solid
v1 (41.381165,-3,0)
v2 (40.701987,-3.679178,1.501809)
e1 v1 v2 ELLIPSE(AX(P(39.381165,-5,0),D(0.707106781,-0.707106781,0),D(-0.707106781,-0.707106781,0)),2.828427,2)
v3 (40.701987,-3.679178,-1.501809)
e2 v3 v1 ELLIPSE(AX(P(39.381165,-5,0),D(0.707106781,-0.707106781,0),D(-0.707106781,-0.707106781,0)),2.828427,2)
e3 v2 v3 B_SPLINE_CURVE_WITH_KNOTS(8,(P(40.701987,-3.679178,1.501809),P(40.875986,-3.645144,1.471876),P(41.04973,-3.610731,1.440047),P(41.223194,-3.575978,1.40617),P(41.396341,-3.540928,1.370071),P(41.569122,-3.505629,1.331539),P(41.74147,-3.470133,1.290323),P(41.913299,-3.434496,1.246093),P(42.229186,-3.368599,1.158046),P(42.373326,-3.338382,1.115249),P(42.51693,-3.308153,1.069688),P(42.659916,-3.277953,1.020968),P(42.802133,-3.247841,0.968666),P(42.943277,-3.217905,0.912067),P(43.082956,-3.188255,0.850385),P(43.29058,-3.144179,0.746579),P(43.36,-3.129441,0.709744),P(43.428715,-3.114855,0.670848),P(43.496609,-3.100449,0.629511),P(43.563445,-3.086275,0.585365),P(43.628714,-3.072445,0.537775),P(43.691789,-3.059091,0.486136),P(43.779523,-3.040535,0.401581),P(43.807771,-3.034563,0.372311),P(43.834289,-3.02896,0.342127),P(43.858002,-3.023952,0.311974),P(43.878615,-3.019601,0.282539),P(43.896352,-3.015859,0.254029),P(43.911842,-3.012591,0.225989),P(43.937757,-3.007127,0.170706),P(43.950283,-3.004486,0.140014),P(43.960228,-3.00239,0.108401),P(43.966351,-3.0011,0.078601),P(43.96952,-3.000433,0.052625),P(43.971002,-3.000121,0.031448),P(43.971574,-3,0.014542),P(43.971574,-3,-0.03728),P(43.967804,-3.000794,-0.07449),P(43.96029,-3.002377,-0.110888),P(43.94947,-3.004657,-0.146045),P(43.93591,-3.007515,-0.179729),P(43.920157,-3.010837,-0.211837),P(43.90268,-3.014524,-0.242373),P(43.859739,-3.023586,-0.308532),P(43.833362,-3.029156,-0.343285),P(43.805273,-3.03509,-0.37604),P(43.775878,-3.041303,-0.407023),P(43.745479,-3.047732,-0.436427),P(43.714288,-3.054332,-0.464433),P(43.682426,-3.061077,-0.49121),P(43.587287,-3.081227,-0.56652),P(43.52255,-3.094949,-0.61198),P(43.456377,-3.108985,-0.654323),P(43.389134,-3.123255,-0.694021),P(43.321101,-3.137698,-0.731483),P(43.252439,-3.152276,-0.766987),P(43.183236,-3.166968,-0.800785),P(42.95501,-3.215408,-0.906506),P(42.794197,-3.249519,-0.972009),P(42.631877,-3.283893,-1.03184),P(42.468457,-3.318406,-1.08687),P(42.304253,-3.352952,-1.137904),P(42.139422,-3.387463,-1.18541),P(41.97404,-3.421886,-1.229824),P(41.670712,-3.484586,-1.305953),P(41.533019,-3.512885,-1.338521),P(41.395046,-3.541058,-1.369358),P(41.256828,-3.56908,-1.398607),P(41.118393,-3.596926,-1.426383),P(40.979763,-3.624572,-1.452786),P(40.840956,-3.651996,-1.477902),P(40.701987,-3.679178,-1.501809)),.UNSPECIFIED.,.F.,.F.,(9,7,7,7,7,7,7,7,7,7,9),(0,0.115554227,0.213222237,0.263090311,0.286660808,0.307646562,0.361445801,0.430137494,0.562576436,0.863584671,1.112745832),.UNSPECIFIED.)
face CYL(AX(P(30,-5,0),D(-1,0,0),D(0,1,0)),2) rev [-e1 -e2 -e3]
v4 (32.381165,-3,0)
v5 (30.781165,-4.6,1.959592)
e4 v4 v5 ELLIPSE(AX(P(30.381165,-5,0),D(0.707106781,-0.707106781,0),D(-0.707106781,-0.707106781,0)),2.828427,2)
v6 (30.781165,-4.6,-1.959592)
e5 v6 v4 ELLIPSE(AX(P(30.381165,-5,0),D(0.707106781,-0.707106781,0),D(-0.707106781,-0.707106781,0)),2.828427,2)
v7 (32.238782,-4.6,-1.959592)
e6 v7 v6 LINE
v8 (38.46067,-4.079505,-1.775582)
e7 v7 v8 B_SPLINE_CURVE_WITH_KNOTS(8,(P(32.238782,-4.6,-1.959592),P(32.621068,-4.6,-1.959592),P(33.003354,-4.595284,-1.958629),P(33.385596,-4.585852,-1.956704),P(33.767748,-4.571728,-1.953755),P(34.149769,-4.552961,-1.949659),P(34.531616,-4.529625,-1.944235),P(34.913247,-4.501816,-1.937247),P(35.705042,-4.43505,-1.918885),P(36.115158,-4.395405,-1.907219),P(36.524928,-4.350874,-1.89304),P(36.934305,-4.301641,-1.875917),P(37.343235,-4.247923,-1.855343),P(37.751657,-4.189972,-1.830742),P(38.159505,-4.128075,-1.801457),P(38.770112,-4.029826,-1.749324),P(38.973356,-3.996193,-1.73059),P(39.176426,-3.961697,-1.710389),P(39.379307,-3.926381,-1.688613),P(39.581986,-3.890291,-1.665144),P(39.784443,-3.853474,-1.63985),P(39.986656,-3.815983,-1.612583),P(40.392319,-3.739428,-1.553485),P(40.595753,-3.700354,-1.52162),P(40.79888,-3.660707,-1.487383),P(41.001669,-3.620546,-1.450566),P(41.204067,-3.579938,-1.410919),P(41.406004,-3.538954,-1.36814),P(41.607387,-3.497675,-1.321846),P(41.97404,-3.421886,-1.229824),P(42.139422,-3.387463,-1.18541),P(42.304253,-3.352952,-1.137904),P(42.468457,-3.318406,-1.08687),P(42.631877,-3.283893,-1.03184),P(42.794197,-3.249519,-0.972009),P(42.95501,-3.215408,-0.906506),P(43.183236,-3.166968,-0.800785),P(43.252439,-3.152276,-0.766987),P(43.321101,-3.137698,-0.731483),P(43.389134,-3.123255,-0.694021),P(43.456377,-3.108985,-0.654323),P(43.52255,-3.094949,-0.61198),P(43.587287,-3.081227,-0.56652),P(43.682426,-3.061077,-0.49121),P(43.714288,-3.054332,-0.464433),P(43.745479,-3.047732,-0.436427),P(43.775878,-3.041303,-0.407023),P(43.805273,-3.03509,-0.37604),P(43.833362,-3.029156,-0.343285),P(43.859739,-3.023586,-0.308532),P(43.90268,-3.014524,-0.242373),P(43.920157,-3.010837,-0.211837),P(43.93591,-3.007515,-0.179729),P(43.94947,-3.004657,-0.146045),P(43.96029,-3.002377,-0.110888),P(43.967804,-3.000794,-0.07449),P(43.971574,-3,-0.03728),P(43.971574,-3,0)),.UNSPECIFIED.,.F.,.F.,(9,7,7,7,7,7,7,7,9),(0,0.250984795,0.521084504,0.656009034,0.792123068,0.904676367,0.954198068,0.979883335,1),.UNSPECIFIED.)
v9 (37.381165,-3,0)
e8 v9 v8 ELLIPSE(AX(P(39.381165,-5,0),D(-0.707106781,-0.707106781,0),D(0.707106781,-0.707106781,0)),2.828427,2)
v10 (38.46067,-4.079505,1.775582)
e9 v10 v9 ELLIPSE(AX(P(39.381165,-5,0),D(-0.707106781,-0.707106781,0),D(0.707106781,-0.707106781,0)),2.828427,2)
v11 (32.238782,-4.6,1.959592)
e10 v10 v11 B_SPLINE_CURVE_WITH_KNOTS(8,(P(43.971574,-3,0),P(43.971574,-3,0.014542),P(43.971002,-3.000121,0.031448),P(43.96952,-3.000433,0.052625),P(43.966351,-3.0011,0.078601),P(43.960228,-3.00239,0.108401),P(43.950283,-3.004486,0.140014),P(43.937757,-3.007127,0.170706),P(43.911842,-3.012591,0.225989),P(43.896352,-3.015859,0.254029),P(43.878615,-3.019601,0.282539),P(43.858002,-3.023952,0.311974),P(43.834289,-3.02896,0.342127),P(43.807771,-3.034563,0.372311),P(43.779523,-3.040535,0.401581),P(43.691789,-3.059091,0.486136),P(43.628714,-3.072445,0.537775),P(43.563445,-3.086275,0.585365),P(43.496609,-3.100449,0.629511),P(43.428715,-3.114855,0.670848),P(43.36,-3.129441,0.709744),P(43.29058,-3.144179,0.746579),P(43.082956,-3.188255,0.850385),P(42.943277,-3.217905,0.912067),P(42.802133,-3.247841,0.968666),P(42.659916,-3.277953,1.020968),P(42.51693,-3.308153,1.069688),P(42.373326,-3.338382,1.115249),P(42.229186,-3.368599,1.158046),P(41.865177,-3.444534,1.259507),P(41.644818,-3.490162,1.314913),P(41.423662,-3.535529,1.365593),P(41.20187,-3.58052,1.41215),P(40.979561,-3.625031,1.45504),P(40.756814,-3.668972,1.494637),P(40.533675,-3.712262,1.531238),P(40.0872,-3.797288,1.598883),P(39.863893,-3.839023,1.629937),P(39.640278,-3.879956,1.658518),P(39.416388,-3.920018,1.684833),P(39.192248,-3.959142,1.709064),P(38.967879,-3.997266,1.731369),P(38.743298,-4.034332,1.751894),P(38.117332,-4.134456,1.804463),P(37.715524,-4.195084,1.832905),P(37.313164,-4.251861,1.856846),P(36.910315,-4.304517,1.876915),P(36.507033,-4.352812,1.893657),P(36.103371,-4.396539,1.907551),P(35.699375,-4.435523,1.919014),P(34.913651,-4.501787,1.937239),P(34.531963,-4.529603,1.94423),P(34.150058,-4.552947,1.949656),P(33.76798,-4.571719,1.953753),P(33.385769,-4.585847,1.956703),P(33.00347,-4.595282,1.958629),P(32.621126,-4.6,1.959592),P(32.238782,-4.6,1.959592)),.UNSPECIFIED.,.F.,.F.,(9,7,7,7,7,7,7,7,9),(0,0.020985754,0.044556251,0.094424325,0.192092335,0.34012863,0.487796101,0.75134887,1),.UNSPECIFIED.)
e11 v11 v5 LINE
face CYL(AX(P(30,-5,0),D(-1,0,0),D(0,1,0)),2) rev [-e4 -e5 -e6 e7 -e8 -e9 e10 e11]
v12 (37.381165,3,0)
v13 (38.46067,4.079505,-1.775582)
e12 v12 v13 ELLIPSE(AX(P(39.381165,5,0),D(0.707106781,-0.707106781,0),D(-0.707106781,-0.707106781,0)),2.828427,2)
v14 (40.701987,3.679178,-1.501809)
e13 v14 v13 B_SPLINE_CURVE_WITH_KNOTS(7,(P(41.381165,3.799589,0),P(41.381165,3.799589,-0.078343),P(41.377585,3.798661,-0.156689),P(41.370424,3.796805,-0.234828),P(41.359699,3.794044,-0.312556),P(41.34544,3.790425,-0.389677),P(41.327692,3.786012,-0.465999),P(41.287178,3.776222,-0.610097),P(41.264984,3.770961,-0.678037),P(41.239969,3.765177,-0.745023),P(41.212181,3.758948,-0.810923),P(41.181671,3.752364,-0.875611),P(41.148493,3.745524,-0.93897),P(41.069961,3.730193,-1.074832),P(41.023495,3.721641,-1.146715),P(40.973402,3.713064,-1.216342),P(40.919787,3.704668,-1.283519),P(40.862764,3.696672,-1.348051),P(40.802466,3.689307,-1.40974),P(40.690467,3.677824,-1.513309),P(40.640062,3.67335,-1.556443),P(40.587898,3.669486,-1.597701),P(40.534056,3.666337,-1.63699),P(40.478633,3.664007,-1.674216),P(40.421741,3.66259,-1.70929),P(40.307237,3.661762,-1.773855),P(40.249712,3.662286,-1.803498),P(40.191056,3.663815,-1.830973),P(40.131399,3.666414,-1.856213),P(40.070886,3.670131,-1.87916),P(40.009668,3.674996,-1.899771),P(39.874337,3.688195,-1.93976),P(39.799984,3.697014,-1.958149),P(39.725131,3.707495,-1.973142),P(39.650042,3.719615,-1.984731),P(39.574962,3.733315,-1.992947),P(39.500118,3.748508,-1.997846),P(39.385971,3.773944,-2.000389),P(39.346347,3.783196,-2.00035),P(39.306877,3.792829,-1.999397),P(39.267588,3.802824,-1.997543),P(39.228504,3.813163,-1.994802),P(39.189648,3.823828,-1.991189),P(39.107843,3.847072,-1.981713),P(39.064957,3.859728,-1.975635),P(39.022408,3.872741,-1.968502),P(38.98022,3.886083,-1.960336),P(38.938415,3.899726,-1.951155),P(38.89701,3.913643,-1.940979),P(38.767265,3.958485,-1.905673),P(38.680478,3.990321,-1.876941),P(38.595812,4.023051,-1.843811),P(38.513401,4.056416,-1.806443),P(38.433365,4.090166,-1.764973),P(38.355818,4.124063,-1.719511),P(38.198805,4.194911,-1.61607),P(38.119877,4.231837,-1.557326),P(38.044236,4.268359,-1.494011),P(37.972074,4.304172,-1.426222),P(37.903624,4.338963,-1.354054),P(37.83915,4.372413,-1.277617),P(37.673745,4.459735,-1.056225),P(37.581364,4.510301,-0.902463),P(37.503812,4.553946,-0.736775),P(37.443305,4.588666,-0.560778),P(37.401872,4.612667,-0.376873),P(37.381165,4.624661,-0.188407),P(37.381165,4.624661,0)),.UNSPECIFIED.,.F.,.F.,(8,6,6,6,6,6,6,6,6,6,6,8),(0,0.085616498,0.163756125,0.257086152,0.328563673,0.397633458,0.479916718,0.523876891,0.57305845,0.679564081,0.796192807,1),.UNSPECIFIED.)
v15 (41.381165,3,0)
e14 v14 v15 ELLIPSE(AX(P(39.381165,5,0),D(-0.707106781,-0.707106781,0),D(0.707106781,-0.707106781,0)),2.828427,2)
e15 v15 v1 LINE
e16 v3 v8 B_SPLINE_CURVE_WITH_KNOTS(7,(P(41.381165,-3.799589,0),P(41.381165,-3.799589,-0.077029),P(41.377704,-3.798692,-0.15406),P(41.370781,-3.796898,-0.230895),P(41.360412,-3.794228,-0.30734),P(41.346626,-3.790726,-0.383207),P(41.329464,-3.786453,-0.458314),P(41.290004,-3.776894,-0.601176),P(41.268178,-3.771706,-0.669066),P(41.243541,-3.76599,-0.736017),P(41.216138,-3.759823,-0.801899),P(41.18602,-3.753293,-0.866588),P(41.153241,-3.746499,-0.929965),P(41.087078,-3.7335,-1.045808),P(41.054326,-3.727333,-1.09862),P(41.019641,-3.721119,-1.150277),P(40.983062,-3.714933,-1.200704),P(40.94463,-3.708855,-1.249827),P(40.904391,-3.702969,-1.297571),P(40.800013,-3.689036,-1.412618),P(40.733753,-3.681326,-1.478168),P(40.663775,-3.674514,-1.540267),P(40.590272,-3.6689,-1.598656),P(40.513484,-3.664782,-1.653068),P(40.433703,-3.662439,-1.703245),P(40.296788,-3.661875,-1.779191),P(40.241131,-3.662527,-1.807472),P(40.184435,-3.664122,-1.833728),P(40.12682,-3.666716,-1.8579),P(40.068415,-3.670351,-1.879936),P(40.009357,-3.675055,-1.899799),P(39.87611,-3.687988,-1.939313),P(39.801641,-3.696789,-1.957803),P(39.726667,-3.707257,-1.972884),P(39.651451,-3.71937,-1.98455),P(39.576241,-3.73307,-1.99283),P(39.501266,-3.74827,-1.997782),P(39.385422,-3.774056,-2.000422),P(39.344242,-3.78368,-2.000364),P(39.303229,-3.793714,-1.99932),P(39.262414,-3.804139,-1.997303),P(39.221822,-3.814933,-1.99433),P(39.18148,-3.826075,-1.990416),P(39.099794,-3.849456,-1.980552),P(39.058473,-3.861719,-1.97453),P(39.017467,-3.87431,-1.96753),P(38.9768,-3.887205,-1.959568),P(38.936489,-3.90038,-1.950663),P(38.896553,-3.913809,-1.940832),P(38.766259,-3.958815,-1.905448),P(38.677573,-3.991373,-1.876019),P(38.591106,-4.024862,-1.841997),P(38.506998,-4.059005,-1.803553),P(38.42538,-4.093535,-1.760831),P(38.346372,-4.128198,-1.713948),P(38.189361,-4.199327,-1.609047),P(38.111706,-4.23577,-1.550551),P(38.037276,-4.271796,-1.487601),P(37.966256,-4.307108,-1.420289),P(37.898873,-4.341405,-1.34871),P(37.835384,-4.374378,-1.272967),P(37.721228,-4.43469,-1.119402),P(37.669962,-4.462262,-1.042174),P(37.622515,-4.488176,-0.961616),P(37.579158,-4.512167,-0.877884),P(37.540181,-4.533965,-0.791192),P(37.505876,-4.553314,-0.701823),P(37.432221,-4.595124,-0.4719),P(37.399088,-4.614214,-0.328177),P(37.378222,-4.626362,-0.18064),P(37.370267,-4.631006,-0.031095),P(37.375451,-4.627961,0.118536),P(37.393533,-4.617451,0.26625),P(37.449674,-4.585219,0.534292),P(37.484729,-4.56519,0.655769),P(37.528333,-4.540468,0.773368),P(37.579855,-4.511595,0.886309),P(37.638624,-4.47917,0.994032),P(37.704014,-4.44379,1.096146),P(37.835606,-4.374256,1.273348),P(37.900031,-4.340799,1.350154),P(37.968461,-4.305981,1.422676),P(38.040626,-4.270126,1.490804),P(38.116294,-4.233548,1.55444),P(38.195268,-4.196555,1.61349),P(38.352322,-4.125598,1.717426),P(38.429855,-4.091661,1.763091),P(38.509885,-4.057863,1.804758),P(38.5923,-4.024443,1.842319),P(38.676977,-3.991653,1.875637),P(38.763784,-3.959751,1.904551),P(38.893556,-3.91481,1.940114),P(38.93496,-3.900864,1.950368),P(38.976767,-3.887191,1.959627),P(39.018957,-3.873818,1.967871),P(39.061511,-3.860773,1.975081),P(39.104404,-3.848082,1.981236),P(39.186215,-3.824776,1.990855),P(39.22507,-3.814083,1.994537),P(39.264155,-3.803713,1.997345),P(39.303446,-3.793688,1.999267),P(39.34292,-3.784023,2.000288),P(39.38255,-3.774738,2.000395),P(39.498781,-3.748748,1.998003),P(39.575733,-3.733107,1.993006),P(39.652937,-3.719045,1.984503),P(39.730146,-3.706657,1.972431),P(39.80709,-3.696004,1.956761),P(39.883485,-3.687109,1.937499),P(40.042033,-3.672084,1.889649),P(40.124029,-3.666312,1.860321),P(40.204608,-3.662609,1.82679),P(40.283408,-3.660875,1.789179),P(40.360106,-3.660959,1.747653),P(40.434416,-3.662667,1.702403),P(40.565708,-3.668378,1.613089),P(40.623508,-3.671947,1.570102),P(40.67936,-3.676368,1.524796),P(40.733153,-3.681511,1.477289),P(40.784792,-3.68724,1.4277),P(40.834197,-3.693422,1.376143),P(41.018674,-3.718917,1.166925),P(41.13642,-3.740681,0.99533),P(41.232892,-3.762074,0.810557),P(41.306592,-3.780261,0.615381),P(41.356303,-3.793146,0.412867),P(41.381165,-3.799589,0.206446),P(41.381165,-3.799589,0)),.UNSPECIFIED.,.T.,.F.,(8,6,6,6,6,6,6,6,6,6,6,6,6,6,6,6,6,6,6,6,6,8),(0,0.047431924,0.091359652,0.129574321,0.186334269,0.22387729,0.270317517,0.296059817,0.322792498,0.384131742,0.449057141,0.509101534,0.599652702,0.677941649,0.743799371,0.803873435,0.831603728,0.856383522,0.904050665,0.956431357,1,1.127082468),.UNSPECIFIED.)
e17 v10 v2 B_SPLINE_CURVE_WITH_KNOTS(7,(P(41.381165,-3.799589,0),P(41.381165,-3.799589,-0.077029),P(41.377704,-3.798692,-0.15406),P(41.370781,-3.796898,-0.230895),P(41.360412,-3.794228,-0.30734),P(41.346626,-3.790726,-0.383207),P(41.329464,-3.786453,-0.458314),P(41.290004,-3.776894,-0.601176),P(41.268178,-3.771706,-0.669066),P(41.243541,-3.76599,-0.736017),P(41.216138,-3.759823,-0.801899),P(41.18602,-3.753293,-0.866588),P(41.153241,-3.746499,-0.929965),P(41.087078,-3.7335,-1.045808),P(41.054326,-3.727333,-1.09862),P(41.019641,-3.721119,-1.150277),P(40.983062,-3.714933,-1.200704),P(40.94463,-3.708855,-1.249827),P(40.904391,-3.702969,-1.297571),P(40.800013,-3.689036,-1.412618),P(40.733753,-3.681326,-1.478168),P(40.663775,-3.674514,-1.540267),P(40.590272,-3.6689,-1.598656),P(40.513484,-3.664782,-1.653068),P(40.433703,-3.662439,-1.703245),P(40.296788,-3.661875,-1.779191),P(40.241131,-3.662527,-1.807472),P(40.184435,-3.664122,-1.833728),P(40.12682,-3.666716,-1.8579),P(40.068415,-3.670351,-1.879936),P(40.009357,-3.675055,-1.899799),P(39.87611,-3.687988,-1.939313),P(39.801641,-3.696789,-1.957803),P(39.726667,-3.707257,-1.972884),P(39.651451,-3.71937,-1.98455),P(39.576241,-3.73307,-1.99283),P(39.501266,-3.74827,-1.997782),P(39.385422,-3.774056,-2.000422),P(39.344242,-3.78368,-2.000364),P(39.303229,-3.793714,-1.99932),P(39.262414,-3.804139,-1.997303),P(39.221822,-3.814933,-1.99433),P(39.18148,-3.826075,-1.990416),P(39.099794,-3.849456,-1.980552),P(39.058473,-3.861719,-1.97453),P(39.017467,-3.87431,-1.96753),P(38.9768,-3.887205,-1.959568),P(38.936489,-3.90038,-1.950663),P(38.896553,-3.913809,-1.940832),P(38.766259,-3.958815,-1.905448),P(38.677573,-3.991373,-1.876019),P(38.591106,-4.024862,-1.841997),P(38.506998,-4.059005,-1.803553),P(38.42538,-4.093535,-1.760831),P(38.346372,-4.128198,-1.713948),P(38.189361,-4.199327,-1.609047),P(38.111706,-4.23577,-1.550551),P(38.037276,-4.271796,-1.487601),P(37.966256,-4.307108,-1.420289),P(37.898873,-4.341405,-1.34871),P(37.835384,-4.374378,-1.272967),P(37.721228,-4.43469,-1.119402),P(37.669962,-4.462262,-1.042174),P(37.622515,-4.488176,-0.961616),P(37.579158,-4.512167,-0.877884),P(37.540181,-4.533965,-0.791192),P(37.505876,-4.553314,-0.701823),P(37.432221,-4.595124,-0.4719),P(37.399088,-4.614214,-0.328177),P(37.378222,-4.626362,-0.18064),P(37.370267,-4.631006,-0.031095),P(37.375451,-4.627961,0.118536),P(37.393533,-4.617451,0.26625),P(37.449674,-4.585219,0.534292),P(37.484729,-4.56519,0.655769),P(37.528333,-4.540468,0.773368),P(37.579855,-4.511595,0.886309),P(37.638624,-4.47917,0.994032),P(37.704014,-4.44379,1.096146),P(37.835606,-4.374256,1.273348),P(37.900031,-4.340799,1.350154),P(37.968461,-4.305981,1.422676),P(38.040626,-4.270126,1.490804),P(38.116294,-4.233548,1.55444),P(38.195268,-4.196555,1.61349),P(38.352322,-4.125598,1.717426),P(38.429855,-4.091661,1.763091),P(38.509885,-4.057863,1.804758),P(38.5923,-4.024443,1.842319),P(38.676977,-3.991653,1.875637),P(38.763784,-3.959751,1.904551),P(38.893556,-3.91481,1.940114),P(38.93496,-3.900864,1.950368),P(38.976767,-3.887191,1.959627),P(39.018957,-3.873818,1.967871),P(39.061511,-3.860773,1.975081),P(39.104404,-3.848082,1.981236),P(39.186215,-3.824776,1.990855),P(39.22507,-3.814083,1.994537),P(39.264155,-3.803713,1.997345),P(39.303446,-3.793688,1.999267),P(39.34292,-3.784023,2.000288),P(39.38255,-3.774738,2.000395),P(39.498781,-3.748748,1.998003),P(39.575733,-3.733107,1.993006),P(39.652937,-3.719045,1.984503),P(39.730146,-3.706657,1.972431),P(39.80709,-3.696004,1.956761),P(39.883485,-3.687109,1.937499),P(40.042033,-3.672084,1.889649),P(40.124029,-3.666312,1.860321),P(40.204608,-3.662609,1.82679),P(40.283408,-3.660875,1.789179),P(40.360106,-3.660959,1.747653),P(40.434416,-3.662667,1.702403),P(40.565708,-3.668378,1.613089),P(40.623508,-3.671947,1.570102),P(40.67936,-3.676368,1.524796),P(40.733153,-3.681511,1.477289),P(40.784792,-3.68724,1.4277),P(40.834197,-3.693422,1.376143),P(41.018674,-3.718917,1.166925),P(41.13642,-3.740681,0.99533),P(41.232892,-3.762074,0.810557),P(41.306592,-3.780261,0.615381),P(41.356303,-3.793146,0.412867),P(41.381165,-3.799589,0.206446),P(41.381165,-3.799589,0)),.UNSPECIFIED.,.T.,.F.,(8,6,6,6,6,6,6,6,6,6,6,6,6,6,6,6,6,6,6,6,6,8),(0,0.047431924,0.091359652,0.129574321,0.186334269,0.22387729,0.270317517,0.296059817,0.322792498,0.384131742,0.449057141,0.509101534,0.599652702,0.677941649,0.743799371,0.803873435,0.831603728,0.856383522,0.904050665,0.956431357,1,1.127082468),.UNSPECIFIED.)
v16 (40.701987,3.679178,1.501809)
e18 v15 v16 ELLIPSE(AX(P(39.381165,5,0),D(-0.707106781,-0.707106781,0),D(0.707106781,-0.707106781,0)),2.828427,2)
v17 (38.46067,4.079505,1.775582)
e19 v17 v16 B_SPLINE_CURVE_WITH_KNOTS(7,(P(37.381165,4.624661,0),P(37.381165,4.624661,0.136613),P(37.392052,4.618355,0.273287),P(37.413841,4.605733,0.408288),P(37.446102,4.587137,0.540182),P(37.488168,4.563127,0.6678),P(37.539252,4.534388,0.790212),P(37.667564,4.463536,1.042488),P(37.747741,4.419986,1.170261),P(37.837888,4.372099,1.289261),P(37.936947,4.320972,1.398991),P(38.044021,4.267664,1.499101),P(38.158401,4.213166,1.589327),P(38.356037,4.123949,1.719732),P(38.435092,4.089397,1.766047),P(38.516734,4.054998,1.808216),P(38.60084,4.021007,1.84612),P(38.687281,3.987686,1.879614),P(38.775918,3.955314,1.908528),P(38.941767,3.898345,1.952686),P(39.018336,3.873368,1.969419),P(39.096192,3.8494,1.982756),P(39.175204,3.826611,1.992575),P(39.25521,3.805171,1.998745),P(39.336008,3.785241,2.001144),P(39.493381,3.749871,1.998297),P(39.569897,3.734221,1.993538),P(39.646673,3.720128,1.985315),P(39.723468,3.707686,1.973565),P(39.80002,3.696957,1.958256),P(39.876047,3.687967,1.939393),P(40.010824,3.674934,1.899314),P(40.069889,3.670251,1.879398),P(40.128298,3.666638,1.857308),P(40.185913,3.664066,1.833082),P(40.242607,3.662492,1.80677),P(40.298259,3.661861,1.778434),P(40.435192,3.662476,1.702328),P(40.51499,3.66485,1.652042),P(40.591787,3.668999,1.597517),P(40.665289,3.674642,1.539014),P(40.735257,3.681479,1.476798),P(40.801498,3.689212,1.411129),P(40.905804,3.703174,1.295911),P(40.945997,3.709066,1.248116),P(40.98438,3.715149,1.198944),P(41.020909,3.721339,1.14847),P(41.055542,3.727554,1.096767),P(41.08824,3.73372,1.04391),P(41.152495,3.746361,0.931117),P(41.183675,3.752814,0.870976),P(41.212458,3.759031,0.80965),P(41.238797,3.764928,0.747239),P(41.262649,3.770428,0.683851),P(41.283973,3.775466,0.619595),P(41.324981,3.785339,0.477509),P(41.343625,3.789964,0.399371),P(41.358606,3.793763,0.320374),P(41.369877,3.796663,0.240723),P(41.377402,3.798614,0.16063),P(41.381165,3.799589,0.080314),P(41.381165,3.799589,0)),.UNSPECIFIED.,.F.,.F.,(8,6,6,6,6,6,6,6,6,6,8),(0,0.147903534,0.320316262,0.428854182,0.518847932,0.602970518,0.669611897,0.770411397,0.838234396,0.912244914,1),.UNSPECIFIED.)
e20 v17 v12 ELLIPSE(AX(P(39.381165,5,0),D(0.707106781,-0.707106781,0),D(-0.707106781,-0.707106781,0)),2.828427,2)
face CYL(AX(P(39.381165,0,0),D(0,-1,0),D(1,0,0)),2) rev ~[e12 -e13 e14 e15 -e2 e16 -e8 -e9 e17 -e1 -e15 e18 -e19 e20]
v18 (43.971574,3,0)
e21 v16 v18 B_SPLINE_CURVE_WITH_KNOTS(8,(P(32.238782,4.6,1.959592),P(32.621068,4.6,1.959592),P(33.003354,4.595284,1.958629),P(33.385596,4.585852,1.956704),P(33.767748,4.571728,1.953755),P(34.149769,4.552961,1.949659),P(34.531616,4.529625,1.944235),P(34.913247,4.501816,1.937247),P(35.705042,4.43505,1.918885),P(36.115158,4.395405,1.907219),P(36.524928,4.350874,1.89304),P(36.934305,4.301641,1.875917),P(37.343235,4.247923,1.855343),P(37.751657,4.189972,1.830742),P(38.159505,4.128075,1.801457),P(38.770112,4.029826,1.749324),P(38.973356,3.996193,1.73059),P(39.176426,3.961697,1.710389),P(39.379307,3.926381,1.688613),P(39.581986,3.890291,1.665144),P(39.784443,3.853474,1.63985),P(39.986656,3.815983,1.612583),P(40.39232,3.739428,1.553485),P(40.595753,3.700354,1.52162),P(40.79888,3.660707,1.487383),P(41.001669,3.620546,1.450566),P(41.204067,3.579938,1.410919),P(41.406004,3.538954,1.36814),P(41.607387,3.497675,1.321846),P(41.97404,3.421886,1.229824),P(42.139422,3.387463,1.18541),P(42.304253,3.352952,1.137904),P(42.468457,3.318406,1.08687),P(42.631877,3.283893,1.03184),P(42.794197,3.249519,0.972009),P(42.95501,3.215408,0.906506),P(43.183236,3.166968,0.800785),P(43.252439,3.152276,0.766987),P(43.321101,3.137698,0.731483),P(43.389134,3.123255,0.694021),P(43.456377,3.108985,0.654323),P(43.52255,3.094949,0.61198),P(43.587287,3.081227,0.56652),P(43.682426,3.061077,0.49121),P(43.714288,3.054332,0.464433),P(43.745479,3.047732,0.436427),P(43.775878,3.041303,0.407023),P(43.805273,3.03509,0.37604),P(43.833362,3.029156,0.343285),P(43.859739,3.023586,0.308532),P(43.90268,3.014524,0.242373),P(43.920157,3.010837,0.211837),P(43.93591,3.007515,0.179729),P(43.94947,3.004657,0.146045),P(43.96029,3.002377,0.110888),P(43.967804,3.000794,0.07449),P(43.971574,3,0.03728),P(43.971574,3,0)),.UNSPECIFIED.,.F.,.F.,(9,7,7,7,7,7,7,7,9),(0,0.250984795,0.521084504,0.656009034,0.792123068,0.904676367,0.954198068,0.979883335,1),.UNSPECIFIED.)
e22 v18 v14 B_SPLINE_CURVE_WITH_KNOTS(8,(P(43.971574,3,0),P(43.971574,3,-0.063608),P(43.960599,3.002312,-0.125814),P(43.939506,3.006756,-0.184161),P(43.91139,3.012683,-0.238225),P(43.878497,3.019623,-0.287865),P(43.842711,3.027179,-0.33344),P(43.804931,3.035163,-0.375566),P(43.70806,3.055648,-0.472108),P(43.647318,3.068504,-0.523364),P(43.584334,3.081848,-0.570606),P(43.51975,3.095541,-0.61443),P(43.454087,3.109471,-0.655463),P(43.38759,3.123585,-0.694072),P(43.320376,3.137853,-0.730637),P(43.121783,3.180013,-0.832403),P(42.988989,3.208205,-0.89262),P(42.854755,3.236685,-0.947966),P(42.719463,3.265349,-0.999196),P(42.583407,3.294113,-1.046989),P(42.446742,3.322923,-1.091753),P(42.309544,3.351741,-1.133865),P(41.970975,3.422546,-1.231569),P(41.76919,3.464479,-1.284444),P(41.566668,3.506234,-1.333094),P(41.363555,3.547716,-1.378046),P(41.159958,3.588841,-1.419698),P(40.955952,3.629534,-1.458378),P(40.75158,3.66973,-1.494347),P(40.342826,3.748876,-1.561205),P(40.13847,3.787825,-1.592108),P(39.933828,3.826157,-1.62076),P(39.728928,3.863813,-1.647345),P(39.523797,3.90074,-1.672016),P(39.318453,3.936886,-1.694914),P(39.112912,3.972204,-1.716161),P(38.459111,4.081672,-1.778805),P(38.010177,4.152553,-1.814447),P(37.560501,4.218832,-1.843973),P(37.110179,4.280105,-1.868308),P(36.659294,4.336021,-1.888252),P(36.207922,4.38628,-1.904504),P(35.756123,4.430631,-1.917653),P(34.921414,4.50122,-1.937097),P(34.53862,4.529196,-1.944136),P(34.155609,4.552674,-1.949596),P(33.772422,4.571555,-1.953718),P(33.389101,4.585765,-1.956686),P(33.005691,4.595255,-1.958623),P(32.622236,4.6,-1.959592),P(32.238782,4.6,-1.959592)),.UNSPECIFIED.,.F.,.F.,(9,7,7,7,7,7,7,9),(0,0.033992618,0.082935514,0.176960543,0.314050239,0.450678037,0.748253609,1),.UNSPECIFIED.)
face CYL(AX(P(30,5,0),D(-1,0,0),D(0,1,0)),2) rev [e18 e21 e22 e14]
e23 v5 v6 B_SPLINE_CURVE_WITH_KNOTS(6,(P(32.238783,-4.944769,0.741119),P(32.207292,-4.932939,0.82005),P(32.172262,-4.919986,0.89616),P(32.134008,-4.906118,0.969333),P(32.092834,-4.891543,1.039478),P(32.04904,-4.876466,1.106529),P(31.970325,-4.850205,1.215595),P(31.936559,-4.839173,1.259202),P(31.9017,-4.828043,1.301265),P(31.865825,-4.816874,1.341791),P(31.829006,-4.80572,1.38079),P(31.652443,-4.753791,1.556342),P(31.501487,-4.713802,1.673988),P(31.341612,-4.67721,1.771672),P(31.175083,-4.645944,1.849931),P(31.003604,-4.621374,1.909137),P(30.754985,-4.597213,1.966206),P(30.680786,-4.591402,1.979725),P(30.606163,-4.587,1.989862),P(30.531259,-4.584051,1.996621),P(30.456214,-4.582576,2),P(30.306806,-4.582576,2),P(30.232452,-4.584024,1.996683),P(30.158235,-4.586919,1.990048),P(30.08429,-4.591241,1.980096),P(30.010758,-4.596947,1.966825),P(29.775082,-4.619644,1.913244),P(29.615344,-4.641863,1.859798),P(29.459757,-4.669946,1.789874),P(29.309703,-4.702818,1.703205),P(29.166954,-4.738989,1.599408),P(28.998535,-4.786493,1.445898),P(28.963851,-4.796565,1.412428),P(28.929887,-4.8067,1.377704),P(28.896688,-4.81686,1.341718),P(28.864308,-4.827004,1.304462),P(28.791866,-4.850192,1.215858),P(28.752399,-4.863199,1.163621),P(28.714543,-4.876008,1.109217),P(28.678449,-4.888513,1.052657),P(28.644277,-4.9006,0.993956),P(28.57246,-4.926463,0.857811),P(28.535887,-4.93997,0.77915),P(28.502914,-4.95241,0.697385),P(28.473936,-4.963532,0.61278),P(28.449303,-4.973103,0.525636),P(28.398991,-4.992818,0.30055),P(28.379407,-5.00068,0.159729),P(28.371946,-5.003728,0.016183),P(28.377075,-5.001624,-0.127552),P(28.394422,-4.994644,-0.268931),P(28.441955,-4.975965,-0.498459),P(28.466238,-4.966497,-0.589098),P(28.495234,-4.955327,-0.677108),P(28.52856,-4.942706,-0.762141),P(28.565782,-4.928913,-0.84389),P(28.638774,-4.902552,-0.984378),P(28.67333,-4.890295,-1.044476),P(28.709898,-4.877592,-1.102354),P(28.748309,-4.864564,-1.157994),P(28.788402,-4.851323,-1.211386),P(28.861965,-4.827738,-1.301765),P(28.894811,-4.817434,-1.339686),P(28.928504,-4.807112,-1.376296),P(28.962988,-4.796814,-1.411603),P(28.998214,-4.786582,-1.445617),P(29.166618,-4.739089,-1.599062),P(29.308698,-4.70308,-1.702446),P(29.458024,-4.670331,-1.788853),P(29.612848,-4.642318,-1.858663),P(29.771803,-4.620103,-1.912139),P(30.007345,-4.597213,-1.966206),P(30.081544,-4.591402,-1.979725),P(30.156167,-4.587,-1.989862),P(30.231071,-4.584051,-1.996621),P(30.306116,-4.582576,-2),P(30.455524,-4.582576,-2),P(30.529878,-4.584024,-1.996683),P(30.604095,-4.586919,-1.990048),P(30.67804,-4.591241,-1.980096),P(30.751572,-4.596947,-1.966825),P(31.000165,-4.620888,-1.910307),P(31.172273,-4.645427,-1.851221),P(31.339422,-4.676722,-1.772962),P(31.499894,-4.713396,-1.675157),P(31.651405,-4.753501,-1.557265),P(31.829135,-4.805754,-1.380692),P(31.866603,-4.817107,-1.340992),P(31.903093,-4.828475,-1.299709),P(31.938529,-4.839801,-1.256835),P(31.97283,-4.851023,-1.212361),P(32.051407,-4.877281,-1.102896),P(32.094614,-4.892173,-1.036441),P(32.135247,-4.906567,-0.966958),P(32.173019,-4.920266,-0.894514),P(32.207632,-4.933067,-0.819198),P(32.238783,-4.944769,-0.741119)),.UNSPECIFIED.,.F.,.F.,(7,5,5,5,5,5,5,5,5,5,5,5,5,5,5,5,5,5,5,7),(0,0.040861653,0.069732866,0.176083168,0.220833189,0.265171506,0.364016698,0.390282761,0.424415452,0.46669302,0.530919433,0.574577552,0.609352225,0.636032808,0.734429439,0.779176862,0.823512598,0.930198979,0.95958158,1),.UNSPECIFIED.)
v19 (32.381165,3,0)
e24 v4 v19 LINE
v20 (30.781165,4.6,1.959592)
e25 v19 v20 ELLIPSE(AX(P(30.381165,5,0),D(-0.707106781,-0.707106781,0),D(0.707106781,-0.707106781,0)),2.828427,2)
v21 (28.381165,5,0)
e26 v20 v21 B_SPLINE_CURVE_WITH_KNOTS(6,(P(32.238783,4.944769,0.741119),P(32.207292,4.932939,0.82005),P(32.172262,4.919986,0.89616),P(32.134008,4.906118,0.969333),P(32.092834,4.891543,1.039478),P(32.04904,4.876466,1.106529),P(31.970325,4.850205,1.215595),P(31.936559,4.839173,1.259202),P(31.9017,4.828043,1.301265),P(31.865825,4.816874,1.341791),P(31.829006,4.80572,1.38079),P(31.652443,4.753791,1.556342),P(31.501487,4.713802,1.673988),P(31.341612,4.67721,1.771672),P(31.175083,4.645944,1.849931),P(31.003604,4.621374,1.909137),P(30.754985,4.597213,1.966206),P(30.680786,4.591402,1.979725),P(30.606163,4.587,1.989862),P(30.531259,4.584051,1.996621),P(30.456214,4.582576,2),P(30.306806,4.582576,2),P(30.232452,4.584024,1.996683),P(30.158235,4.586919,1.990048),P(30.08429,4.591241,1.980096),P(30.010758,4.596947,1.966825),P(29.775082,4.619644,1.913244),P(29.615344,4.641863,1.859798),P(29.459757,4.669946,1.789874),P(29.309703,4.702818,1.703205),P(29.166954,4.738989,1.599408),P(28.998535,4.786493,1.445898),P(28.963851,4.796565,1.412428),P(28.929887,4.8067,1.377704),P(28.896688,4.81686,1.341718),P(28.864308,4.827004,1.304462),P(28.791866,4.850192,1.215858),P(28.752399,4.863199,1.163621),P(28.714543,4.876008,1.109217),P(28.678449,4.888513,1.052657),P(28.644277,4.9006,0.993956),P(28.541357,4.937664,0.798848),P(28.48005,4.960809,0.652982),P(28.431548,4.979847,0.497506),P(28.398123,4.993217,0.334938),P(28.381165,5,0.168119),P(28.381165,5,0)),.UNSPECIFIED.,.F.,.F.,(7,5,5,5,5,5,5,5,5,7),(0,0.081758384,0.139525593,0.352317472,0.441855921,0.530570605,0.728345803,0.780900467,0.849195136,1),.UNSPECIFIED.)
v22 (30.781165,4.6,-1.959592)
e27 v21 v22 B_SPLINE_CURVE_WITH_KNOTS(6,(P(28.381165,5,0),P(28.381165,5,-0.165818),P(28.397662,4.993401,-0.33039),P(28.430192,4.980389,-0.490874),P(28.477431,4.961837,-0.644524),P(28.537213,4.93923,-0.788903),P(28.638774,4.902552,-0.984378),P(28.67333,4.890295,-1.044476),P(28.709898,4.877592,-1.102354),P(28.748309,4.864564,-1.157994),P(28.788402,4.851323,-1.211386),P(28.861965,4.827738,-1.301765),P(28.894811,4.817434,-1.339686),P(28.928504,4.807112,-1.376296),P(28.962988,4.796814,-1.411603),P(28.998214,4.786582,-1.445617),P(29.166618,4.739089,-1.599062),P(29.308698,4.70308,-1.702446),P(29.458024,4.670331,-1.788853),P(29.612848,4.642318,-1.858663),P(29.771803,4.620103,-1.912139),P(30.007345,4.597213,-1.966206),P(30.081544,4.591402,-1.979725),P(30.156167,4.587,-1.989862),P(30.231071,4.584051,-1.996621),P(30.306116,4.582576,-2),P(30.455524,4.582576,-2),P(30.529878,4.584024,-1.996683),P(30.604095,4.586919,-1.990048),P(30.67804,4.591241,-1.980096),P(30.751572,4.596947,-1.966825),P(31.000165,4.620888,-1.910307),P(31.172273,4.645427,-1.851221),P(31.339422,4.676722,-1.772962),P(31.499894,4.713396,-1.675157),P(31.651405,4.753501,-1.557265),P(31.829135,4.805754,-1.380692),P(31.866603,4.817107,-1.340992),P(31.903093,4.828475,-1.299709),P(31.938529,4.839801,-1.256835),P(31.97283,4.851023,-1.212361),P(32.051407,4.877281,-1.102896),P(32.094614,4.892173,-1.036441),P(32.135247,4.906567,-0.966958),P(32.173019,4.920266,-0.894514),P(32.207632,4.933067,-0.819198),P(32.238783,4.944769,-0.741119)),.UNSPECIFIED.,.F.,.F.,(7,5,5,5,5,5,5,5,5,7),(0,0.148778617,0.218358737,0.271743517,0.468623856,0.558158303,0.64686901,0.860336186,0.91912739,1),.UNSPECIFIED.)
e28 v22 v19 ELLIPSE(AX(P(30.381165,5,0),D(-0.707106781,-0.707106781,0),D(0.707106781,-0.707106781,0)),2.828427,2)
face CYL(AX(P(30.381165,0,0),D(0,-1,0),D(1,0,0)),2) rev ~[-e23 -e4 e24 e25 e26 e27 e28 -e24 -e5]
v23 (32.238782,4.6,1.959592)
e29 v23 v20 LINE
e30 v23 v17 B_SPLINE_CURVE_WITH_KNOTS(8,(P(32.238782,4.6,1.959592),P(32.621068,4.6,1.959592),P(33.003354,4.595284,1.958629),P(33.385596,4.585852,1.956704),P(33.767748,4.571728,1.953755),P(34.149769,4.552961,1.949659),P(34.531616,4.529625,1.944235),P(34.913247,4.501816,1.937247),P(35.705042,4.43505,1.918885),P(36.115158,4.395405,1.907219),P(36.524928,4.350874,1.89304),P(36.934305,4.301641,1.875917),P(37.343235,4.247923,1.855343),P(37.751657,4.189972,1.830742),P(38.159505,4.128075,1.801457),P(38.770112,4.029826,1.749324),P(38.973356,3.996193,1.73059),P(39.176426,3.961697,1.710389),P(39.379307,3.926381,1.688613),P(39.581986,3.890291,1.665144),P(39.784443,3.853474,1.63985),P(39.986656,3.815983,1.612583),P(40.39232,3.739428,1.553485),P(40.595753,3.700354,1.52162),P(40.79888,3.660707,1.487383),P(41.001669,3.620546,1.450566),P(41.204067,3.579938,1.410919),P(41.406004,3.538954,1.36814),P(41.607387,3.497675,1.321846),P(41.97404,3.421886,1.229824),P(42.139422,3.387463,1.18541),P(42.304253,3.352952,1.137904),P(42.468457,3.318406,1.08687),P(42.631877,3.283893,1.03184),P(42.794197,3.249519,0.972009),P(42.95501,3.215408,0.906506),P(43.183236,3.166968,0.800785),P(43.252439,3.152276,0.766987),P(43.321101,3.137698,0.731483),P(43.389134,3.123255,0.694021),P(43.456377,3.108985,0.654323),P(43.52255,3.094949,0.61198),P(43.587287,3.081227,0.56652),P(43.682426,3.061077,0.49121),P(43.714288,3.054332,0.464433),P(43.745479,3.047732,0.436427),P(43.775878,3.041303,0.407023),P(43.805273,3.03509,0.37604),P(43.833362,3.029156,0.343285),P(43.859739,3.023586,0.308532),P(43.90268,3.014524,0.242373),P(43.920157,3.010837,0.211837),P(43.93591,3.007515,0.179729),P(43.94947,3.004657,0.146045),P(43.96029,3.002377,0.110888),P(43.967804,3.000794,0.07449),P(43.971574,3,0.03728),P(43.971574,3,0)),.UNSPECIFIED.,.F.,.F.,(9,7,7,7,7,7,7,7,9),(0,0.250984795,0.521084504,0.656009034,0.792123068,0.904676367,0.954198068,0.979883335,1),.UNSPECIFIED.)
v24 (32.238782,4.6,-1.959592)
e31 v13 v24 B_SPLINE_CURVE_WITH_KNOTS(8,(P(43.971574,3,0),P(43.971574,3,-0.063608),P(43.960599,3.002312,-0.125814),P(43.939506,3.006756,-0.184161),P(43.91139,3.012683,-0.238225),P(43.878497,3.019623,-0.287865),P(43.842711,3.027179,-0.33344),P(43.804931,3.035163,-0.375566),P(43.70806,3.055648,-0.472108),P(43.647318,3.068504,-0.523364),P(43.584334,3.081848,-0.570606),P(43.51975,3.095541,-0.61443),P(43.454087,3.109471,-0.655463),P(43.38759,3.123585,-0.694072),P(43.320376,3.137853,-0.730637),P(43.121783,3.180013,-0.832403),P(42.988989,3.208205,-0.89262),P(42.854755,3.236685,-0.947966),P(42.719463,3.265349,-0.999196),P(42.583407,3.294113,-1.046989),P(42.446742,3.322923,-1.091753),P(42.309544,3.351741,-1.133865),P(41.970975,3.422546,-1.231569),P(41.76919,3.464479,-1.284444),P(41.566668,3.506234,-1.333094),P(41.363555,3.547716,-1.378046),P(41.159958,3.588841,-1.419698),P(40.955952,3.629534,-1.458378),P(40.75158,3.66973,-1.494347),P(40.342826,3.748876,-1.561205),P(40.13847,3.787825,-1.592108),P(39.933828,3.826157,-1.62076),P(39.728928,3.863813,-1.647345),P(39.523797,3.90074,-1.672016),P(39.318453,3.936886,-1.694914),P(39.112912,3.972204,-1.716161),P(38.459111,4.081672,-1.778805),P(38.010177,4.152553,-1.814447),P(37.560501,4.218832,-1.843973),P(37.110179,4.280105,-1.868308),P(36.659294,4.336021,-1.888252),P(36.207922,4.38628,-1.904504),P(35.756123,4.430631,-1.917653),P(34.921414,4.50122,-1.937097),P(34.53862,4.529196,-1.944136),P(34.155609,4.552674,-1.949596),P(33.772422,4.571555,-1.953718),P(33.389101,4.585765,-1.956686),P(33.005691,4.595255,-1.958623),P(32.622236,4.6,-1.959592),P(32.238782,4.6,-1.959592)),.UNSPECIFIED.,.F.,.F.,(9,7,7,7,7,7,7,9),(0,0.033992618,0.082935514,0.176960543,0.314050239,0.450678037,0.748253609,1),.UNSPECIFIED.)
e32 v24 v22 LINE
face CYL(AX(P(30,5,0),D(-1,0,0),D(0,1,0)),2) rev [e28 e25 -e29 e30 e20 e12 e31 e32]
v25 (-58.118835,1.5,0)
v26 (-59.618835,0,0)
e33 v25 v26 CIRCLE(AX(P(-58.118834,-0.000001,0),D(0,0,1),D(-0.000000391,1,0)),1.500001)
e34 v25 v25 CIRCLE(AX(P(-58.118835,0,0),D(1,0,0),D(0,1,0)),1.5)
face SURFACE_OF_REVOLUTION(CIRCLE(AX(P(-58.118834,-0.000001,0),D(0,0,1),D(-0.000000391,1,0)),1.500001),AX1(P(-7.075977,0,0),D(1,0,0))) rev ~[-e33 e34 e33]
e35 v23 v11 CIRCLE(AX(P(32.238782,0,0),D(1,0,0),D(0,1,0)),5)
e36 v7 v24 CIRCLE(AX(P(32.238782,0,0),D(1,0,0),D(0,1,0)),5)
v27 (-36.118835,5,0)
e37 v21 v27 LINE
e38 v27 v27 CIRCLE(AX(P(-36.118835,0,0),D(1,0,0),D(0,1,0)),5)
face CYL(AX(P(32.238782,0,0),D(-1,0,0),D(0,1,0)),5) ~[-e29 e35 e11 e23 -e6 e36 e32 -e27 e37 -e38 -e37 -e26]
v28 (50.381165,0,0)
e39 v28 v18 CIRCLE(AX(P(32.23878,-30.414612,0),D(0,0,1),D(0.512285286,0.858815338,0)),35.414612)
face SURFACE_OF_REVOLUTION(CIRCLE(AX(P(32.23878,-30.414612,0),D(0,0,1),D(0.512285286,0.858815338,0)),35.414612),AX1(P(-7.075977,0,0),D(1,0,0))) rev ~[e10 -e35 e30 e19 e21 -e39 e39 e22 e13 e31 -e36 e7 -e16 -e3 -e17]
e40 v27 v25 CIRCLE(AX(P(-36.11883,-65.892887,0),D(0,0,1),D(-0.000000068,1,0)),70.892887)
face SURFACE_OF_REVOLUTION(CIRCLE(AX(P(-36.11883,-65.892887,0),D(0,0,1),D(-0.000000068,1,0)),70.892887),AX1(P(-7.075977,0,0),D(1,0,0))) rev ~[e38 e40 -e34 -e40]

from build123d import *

# Parameters (mm, degrees)
F2_R     = 2
F3_DEPTH = 12.5
F5_R     = 2
F6_DEPTH = 25


with BuildPart() as f1:
    # F0 (on Top) → F1 (revolve)
    with BuildSketch(Plane.XY):
        with BuildLine():
            Line((32.238782, 5), (-36.118835, 5))
            ThreePointArc((-36.118835, 5), (-47.25717, 4.119532), (-58.118835, 1.5))
            ThreePointArc((-58.118835, 1.5), (-59.179495, 1.06066), (-59.618835, 0))
            Line((-59.618835, 0), (-58.118835, 0))
            Line((-58.118835, 0), (-36.118835, 0))
            Line((-36.118835, 0), (32.238782, 0))
            Line((32.238782, 0), (50.381165, 0))
            ThreePointArc((50.381165, 0), (41.648166, 3.727125), (32.238782, 5))
        make_face()
    revolve(axis=Axis((-7.075977, 0, 0), (1, 0, 0)))

    # F2 (on Front) → F3 (cut, symmetric)
    with BuildSketch(Plane.XZ):
        with Locations((30.381165, 0)):
            Circle(F2_R)
        with Locations((39.381165, 0)):
            Circle(F2_R)
    extrude(amount=F3_DEPTH, both=True, mode=Mode.SUBTRACT)

    # F5 (on offset) → F6 (cut)
    with BuildSketch(Plane.YZ.offset(30)):
        with Locations((5, 0)):
            Circle(F5_R)
        with Locations((-5, 0)):
            Circle(F5_R)
    extrude(amount=F6_DEPTH, mode=Mode.SUBTRACT)


solid = f1.part
